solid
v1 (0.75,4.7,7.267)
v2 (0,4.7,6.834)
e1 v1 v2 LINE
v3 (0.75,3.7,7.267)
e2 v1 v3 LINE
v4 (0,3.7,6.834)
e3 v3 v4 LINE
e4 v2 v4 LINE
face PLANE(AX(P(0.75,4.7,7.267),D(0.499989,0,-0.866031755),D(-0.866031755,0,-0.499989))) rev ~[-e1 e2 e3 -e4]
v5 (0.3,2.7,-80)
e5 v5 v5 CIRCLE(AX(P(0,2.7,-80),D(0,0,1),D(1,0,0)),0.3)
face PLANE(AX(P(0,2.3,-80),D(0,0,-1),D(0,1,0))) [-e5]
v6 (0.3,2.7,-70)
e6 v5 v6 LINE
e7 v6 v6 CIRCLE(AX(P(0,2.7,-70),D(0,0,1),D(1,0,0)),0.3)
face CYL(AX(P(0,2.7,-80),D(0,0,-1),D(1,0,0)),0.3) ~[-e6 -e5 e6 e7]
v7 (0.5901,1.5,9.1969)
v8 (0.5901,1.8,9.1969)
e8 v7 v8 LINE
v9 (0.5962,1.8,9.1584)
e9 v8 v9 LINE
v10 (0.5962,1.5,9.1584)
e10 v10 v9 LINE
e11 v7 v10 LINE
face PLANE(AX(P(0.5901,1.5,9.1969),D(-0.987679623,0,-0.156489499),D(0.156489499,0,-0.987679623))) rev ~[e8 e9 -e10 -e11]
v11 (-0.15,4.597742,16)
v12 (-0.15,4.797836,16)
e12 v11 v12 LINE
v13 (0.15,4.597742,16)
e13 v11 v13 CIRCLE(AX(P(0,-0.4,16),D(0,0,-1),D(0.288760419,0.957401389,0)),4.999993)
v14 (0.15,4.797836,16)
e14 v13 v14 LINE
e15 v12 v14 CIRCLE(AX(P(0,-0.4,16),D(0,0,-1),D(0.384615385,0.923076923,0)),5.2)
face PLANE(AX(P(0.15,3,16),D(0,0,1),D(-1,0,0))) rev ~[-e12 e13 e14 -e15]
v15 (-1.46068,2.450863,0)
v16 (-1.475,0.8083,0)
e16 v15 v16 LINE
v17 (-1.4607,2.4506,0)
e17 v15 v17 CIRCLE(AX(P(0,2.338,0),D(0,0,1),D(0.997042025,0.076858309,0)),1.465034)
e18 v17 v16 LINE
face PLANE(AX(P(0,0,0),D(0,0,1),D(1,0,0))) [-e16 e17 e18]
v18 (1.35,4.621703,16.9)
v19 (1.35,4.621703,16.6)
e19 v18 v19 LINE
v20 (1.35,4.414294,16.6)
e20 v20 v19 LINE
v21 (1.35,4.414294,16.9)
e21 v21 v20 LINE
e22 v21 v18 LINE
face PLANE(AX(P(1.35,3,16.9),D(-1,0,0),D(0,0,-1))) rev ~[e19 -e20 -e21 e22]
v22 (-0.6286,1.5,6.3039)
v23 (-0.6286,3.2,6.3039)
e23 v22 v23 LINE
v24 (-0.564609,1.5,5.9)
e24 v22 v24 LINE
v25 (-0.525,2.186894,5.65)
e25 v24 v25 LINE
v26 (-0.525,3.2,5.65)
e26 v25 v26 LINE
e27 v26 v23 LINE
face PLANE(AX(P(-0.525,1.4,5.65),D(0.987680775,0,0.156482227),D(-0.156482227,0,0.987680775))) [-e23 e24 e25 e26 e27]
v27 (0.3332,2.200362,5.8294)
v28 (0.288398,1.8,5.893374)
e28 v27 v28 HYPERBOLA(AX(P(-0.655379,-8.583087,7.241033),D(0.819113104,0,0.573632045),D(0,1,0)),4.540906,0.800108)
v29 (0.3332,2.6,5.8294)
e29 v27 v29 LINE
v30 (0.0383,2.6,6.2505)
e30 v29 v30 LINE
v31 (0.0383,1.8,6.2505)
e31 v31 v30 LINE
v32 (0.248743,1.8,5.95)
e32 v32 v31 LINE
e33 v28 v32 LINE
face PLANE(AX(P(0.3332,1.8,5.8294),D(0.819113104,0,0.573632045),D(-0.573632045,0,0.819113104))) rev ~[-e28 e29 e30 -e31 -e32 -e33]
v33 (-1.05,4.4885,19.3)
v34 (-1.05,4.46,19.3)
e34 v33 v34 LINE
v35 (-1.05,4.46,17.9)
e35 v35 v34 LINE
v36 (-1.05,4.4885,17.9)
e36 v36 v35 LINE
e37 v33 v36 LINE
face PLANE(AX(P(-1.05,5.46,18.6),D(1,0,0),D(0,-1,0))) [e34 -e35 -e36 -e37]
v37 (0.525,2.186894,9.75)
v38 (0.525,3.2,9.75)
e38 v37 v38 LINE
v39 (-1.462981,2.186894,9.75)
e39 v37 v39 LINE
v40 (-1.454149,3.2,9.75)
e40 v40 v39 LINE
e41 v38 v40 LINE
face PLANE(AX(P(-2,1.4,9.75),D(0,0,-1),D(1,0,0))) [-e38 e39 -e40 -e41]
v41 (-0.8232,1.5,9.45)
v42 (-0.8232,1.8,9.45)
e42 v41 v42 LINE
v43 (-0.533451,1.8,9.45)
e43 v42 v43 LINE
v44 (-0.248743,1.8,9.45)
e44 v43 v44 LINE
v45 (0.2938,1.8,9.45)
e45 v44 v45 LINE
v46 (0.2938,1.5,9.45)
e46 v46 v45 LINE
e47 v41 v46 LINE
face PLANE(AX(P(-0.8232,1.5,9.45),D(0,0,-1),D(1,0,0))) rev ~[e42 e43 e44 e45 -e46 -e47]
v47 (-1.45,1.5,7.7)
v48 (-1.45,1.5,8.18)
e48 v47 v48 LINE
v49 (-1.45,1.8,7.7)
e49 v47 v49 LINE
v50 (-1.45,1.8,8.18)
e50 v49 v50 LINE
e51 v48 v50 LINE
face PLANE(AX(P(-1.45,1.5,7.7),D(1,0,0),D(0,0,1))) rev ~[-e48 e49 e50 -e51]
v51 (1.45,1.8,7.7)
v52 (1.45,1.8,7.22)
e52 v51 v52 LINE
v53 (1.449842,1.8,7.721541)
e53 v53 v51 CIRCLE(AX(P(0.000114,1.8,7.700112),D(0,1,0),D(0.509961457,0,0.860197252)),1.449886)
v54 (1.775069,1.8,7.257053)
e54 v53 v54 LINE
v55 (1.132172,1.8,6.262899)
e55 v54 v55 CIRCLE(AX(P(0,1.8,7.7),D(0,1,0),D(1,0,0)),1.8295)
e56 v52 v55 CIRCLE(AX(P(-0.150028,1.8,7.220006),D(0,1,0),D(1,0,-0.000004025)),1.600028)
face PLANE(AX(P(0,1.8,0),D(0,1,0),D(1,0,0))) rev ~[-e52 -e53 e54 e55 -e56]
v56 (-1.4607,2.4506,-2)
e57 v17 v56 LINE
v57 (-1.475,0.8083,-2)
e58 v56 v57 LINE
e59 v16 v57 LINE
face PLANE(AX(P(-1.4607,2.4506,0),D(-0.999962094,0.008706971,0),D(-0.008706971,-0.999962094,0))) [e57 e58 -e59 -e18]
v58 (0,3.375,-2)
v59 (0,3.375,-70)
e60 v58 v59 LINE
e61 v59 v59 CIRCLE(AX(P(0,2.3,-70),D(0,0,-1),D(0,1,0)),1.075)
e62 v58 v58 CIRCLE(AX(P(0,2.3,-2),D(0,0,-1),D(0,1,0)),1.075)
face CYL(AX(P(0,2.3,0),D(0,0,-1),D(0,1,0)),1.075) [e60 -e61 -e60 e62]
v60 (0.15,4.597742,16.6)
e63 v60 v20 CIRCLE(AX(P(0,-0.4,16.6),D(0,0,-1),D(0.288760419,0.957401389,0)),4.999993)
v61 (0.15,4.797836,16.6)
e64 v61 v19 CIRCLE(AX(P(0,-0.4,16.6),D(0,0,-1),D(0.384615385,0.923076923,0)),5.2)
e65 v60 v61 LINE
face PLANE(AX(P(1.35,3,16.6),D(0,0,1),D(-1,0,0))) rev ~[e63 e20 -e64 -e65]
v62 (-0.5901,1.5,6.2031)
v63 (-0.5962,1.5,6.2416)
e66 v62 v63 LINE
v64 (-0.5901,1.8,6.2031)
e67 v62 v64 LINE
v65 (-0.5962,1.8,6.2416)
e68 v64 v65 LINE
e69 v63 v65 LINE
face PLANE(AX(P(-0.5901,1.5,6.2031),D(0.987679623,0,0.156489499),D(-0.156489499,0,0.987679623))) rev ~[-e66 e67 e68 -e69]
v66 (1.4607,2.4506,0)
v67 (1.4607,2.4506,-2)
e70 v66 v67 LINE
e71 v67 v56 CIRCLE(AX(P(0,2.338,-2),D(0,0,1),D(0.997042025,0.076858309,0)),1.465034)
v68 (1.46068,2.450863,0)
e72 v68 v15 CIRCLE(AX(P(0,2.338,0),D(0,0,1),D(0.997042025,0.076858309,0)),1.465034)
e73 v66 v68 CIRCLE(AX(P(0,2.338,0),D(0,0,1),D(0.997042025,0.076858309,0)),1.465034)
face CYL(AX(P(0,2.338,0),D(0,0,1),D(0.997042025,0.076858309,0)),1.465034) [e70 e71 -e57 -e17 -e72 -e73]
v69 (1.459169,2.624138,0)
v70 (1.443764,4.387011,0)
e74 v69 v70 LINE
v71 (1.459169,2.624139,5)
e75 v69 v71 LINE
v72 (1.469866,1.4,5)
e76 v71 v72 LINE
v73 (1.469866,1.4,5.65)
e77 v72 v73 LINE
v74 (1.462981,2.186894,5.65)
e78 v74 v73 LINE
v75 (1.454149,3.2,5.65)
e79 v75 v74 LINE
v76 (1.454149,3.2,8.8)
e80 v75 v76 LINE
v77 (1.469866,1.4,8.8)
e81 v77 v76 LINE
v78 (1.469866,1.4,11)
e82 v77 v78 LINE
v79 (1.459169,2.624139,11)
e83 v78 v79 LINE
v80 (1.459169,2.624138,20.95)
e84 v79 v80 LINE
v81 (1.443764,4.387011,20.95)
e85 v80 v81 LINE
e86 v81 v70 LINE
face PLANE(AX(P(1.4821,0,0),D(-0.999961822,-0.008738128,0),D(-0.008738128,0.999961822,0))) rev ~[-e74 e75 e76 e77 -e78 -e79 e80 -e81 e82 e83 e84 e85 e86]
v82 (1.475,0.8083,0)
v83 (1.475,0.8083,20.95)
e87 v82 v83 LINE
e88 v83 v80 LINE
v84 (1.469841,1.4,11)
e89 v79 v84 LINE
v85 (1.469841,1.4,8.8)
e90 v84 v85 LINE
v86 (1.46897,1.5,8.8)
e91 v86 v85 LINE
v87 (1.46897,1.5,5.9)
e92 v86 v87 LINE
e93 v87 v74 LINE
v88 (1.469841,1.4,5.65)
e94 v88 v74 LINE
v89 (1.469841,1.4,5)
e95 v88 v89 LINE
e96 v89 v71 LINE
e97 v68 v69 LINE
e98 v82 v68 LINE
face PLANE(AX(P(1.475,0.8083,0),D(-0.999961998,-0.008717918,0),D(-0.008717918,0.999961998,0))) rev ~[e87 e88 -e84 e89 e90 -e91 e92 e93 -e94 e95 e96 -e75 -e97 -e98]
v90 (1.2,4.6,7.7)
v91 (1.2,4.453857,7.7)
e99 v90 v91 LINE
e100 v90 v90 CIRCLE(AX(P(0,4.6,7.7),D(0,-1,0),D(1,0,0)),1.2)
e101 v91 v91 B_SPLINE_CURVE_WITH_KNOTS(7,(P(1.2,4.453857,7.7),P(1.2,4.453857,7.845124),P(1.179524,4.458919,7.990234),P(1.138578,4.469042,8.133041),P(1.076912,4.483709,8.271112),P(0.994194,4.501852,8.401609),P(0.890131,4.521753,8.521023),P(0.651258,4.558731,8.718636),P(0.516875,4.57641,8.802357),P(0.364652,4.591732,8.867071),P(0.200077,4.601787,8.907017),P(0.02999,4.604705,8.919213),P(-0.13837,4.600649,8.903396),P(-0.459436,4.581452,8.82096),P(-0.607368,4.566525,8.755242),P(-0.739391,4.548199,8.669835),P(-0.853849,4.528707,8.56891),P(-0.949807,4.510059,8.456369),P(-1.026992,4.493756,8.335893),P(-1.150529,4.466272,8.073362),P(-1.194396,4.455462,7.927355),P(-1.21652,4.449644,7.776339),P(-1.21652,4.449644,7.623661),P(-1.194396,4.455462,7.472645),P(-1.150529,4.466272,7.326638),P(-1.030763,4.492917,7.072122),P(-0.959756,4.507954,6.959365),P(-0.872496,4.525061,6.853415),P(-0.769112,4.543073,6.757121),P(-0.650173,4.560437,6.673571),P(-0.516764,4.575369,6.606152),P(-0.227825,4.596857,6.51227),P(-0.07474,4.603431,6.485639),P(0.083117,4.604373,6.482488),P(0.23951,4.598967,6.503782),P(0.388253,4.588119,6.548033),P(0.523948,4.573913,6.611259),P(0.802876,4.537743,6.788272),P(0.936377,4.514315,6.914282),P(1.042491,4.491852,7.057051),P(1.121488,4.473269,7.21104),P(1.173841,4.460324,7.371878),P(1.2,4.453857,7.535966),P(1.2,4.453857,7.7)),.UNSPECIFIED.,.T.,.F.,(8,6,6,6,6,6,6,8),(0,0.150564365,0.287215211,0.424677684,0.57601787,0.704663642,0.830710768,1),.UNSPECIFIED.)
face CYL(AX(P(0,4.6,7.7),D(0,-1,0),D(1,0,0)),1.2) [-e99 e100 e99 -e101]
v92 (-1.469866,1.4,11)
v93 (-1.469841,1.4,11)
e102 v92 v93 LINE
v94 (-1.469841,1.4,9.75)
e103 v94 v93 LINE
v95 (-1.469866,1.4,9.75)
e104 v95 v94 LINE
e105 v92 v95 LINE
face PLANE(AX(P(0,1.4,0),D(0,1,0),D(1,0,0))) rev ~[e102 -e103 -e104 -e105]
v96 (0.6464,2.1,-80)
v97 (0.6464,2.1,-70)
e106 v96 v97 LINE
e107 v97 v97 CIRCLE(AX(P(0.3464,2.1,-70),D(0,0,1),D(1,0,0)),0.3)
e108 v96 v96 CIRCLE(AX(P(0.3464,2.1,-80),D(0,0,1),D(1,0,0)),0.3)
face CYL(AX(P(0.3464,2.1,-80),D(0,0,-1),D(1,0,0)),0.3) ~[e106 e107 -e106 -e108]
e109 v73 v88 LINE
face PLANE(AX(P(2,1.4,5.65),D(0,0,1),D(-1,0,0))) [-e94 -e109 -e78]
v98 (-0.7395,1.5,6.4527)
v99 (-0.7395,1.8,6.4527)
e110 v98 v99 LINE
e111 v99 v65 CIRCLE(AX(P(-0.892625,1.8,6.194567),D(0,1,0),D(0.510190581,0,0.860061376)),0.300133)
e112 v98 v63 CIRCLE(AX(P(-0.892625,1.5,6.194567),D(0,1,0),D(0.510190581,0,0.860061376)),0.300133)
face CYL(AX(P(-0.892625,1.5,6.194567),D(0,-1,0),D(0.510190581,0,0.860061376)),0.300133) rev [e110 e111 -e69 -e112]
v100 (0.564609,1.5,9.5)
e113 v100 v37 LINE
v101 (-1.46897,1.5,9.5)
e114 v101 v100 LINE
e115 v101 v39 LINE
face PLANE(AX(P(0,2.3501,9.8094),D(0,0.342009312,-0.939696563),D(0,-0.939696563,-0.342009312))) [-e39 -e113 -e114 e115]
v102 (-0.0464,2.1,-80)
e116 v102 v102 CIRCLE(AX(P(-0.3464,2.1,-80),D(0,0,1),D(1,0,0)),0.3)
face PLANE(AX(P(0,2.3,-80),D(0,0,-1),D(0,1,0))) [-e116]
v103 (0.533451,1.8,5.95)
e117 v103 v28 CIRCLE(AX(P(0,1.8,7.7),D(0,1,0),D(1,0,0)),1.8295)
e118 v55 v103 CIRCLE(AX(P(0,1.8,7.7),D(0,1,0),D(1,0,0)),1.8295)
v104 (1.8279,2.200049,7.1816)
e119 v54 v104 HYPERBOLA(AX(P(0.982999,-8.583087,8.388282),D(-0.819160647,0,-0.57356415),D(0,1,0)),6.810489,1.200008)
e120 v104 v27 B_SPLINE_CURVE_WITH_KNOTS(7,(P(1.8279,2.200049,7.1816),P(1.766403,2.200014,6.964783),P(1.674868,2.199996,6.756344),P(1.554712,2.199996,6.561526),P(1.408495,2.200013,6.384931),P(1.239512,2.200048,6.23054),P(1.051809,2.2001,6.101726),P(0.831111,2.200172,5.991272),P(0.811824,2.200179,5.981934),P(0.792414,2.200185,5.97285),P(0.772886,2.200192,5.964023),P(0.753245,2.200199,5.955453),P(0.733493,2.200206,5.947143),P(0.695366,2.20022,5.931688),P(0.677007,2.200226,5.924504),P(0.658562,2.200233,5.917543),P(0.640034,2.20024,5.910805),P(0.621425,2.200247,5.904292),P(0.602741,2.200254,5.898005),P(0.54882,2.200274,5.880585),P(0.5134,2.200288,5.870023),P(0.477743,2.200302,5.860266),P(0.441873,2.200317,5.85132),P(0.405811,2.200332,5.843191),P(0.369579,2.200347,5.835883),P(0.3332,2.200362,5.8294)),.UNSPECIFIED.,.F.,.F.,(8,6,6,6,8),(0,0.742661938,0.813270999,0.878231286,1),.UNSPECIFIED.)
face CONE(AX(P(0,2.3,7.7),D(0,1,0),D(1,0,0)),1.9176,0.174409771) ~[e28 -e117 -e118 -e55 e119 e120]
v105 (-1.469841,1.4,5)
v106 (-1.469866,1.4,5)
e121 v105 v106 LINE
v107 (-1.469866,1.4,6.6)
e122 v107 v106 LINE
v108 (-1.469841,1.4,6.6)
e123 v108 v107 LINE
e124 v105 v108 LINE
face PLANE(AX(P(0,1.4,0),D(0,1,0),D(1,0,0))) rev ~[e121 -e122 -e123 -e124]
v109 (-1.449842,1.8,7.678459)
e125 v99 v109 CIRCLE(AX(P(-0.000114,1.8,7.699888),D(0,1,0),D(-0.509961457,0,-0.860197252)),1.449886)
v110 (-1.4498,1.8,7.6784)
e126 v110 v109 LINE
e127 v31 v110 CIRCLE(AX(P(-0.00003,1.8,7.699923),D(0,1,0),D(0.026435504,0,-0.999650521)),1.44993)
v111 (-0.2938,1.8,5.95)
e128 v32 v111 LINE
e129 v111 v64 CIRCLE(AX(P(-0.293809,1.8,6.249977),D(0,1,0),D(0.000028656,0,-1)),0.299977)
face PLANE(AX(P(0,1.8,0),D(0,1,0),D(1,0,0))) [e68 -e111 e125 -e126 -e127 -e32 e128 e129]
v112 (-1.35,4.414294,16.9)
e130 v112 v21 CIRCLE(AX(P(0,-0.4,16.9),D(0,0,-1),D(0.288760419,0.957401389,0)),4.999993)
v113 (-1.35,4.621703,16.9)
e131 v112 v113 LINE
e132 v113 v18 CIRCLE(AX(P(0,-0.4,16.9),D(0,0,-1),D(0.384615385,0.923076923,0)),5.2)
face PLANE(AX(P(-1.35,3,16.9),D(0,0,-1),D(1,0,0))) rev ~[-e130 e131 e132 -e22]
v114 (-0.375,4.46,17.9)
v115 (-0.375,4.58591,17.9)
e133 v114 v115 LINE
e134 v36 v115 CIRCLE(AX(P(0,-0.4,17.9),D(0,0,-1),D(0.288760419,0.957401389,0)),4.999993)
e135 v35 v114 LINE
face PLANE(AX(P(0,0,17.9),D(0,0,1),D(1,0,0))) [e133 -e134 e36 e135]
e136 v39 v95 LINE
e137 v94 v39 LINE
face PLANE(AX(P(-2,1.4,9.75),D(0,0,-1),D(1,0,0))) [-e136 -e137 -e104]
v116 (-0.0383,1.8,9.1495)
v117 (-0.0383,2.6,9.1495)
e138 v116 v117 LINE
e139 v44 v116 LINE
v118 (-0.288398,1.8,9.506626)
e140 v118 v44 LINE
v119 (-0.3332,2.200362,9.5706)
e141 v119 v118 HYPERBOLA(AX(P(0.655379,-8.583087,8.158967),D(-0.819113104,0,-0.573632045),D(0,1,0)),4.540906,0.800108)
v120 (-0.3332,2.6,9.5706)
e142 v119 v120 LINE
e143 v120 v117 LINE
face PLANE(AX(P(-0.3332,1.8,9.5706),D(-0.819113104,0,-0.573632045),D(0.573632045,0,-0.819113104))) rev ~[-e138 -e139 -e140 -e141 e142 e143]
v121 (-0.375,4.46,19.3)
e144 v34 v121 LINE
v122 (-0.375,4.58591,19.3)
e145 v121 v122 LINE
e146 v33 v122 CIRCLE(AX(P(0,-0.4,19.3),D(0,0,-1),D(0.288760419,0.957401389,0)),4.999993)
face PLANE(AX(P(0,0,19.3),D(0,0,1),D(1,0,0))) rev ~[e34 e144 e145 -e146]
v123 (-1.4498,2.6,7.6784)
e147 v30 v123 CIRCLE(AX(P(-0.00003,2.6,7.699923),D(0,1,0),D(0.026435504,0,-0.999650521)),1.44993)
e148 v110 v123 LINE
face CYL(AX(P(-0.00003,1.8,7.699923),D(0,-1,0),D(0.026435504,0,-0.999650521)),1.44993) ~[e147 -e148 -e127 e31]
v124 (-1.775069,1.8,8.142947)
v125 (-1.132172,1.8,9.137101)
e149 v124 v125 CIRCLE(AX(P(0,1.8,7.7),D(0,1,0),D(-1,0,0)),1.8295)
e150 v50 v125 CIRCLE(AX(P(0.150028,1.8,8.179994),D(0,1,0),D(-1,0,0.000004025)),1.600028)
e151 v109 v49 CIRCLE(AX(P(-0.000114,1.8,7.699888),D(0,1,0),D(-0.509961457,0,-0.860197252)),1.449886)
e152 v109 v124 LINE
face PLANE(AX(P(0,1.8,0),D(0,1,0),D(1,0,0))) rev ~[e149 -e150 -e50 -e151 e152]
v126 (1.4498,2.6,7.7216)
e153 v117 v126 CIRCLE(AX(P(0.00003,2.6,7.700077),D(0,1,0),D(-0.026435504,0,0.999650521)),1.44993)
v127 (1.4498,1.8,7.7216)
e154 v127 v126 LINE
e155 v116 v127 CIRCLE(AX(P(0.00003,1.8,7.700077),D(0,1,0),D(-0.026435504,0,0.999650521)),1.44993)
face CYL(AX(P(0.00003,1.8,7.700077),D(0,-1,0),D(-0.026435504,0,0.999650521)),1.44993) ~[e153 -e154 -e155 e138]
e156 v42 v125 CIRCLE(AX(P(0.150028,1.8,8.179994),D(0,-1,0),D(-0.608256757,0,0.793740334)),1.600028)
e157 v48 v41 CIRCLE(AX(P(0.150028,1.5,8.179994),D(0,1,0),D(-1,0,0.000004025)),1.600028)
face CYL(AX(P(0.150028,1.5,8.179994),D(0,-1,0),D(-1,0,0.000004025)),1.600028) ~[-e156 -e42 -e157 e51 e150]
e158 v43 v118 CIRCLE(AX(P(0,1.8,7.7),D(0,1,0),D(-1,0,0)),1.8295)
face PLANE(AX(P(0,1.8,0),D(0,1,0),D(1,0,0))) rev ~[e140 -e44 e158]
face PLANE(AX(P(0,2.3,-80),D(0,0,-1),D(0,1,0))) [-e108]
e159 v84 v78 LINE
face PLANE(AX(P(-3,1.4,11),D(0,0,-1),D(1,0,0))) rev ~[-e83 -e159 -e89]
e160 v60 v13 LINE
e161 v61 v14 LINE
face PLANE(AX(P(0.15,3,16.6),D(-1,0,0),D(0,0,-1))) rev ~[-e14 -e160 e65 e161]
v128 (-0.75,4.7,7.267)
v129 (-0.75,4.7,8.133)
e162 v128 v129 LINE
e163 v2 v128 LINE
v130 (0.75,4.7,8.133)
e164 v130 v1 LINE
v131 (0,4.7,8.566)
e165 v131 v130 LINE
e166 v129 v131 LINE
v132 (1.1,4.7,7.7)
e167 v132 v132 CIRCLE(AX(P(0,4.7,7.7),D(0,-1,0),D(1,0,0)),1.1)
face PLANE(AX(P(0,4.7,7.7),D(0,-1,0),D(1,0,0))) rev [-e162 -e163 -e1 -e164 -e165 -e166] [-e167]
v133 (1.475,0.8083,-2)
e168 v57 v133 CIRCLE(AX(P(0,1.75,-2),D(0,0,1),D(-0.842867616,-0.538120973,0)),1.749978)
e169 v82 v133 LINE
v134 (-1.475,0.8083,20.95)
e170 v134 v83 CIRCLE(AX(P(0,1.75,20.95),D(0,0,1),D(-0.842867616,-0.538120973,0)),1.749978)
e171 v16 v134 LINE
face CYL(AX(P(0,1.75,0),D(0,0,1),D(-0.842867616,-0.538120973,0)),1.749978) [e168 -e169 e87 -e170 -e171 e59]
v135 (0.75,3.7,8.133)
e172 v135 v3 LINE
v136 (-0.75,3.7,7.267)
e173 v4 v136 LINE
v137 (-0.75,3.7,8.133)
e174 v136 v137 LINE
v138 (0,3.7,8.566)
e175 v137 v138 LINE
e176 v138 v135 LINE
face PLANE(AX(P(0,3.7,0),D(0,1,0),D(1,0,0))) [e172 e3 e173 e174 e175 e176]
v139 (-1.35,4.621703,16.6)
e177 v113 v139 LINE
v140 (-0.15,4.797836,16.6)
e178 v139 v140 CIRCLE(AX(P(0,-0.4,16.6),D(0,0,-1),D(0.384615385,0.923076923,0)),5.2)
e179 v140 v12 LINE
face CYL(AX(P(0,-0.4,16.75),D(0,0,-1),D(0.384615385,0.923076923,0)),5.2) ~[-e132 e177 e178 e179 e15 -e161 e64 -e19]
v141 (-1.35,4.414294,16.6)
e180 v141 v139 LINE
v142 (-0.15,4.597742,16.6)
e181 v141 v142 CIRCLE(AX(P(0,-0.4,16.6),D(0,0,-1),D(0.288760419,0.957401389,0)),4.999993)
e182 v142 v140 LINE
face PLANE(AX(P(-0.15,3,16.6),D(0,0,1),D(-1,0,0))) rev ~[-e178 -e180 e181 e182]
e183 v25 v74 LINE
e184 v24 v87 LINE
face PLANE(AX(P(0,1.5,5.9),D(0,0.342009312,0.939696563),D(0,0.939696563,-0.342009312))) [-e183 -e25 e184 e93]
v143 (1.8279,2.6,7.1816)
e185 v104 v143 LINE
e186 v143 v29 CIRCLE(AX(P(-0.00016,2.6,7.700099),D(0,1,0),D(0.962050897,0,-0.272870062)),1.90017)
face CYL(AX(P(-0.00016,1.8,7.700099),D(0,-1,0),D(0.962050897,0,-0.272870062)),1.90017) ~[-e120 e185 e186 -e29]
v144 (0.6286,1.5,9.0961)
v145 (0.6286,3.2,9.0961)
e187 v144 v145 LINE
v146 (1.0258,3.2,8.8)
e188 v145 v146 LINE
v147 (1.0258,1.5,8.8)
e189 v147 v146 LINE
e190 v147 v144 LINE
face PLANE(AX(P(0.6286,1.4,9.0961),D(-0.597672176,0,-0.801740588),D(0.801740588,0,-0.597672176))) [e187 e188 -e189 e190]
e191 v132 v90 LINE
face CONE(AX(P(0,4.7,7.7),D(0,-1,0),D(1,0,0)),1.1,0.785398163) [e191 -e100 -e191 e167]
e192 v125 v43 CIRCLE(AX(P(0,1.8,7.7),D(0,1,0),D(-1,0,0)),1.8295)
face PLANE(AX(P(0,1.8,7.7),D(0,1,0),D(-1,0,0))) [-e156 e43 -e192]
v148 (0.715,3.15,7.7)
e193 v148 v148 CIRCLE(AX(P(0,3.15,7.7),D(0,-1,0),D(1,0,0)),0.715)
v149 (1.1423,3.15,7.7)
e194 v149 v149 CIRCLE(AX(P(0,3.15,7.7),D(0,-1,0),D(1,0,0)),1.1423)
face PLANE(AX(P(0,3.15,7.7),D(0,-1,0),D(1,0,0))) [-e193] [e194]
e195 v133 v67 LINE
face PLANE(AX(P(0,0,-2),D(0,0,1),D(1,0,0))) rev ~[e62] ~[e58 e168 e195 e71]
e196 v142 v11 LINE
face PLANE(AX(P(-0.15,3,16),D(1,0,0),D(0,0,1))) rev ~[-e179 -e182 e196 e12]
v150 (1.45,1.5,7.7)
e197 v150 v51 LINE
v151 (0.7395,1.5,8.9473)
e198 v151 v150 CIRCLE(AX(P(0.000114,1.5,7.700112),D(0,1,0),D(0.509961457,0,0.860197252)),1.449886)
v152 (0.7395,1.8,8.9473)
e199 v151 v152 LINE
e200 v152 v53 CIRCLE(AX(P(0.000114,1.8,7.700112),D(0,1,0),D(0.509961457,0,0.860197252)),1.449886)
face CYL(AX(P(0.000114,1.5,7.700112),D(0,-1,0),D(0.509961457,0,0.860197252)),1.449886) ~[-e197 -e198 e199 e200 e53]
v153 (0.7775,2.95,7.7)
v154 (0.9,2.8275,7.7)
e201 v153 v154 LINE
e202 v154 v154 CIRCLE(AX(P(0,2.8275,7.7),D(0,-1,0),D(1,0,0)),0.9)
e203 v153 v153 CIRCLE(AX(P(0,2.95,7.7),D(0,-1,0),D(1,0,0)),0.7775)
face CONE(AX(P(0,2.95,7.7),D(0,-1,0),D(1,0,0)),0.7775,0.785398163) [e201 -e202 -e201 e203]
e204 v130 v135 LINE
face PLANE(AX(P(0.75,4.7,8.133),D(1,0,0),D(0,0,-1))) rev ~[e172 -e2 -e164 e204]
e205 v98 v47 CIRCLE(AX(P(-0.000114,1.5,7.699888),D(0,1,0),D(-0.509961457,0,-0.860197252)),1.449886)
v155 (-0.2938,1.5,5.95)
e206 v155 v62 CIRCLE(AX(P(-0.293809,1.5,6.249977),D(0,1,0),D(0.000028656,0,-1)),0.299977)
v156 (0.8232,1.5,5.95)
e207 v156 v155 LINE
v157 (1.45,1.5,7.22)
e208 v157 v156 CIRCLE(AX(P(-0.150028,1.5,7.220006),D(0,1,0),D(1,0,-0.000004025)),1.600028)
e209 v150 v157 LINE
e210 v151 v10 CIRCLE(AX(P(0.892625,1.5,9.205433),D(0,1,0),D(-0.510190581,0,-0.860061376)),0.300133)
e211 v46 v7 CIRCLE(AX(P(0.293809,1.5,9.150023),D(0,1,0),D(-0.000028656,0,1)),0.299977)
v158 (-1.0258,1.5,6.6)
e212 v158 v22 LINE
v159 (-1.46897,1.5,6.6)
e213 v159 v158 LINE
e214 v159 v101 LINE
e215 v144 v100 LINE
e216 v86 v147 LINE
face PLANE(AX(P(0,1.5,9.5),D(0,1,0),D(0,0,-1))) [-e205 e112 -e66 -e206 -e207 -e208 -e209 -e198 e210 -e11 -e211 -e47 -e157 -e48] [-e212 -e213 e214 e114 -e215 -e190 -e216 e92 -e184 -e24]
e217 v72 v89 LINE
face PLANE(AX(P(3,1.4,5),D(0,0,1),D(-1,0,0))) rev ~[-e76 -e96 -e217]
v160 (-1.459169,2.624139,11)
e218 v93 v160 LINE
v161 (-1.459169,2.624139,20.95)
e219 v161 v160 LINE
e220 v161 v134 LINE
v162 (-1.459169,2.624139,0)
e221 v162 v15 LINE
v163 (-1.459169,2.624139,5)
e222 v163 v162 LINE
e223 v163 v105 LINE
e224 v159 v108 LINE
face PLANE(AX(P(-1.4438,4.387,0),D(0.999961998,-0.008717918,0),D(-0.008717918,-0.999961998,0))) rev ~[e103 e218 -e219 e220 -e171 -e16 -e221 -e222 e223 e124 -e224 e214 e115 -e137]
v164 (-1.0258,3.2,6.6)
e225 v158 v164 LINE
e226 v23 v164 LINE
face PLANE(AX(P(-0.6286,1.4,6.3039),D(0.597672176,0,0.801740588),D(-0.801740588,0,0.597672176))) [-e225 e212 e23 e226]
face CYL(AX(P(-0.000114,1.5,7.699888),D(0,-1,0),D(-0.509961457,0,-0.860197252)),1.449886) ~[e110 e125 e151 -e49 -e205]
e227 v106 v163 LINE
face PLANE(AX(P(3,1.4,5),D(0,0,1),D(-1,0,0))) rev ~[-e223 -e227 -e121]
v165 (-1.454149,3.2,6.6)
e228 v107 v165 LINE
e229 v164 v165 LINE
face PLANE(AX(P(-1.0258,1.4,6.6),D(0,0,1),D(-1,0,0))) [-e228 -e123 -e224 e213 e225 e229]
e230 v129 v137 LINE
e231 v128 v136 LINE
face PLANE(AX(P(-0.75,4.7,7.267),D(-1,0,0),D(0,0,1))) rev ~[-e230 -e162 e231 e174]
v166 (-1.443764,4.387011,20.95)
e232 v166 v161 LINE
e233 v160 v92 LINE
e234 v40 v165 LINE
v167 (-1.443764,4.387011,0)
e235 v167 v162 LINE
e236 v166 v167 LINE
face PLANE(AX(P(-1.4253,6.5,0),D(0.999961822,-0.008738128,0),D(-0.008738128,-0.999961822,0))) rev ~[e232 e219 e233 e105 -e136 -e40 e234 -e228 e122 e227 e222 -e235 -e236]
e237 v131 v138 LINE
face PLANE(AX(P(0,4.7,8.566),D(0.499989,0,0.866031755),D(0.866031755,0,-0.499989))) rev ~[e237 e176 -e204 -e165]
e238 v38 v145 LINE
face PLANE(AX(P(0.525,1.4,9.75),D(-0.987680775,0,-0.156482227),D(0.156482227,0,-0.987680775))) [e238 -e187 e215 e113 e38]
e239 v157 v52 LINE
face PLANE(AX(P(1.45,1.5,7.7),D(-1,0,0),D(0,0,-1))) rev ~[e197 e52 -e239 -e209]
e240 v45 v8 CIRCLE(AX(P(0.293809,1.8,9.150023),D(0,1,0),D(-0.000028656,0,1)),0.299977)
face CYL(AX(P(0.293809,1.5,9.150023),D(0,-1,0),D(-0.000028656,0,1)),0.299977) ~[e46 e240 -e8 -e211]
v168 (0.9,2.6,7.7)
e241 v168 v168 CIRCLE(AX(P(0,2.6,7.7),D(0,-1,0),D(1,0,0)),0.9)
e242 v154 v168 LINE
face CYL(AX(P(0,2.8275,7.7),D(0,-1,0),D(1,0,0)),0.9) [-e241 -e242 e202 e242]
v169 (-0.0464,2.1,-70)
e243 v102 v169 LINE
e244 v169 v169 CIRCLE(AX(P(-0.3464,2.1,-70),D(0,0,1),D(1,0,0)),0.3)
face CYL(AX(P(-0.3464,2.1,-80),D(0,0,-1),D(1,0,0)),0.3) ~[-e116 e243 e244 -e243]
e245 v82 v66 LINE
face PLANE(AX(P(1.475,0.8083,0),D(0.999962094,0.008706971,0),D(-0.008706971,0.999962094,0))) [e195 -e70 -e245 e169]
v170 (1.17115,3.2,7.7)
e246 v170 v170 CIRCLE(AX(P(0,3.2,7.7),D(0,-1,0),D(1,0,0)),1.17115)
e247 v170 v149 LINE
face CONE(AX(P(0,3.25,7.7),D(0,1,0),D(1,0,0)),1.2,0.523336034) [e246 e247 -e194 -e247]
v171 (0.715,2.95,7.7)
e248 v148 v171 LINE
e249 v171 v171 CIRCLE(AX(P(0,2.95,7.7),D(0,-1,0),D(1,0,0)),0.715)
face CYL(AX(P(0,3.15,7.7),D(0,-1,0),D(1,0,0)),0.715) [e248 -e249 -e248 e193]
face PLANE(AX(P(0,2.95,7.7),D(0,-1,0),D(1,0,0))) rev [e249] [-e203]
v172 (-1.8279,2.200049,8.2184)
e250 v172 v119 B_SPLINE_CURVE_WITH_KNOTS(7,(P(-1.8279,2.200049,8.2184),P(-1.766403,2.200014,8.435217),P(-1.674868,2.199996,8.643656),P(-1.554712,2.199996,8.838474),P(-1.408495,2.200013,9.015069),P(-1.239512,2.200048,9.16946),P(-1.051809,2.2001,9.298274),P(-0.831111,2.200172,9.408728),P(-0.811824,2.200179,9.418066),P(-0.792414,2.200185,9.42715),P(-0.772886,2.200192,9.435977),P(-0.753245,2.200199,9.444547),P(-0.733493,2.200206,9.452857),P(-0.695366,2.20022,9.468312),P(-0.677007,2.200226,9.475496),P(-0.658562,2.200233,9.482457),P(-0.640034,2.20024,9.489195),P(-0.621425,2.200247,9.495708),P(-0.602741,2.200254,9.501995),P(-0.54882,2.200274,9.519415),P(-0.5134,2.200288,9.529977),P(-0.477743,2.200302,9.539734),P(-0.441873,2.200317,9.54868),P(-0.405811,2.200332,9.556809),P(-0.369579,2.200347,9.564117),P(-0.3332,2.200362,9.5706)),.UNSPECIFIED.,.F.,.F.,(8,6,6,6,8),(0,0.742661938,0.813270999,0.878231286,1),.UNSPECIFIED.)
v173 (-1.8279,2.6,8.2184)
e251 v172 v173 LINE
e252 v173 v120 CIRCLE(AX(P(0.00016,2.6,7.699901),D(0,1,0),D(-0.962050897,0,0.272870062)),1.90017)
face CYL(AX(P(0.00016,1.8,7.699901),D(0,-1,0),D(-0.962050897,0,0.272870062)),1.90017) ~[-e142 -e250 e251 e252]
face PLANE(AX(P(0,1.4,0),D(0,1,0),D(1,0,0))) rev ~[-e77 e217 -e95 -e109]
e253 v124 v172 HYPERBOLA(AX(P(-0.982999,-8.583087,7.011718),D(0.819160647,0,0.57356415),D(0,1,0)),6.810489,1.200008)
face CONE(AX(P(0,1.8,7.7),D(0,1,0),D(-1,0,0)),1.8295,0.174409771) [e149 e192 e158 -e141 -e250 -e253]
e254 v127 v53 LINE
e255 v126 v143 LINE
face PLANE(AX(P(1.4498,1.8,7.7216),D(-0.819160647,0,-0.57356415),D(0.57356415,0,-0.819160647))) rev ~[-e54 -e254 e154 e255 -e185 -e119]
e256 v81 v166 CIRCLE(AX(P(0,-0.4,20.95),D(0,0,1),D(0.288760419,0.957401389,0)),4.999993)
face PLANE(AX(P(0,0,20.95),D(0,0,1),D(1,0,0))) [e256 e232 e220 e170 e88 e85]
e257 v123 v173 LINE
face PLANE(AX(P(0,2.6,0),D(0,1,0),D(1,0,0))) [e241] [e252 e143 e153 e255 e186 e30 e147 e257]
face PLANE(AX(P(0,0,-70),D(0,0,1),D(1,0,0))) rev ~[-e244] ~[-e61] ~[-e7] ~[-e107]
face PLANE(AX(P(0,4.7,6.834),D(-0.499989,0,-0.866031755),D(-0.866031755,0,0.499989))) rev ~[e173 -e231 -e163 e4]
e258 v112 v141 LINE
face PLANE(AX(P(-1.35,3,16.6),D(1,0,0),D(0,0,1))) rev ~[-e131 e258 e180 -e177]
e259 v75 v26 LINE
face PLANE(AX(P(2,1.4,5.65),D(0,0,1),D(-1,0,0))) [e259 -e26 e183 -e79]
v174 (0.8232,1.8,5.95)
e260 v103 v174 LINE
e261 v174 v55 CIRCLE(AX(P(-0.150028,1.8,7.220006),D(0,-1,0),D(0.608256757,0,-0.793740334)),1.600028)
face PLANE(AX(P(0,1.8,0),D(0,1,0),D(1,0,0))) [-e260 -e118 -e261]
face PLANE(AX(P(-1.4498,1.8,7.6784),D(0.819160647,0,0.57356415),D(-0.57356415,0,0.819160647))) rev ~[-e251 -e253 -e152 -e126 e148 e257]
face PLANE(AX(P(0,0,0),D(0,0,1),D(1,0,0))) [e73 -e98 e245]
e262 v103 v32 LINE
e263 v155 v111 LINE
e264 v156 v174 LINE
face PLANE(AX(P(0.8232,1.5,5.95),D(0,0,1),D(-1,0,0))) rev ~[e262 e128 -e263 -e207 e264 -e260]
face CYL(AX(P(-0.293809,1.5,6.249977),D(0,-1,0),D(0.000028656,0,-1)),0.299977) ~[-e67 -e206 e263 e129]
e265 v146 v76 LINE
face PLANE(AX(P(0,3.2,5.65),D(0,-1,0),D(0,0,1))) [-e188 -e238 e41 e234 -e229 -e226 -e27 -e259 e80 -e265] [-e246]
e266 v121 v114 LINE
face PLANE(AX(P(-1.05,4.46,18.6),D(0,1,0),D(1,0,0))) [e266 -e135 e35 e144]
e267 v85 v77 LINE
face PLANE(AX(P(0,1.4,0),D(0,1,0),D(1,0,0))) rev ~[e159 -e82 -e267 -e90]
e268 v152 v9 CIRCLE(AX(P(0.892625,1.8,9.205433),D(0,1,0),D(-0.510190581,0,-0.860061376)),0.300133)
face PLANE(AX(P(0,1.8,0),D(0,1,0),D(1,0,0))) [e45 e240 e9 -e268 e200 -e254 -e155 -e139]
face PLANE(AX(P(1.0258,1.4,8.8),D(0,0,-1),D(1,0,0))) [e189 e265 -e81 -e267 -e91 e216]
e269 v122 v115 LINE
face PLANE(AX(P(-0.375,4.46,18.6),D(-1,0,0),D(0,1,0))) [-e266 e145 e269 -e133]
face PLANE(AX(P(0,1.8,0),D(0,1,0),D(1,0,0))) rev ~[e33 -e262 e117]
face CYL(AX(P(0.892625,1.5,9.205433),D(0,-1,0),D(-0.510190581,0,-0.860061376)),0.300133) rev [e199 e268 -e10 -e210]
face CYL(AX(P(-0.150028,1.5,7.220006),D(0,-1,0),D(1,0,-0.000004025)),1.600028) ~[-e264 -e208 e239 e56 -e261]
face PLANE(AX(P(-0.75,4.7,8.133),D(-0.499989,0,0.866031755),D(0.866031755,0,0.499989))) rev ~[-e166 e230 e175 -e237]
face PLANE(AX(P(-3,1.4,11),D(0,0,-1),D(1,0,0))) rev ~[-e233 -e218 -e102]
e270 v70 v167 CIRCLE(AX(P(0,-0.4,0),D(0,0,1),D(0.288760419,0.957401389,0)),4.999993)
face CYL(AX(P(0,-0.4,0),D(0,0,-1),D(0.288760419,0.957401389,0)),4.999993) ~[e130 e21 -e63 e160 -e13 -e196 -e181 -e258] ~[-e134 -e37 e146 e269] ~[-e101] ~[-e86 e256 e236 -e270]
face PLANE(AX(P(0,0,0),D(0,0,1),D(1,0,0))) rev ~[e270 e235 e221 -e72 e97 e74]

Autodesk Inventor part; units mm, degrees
sketch "Sketch_1" plane through (0, 0, 0) normal (0, 0, 1) x (1, 0, 0)
  arc A0 (-1.475, 0.8083) -> (1.475, 0.8083) centre (0, 1.75) ccw
  line L0 (1.475, 0.8083) -> (1.4438, 4.387)
  arc A1 (1.4438, 4.387) -> (-1.4438, 4.387) centre (0, -0.4) ccw
  line L1 (-1.4438, 4.387) -> (-1.475, 0.8083)
extrude "Extrusion1" add sketch "Sketch_1" along normal blind 20.95
sketch "Sketch_2" plane through (0, 0, 0) normal (1, 0, 0) x (0, 1, 0)
  line L0 (2.3501, 9.8094) -> (1.5, 9.5)
  line L1 (1.5, 9.5) -> (1.5, 5.9)
  line L2 (1.5, 5.9) -> (2.3501, 5.5906)
  line L3 (2.3501, 5.5906) -> (3.2, 5.65)
  line L4 (3.2, 5.65) -> (3.2, 9.75)
  line L5 (3.2, 9.75) -> (2.3501, 9.8094)
extrude "Extrusion2" cut sketch "Sketch_2" along normal mid plane 6
sketch "Sketch_3" plane through (0, 1.4, 0) normal (0, 1, 0) x (1, 0, 0)
  line L0 (-3, -11) -> (3, -11)
  line L1 (3, -11) -> (3, -5)
  line L2 (3, -5) -> (-3, -5)
  line L3 (-3, -5) -> (-3, -11)
  line L4 (-2, -6.6) -> (-2, -9.75)
  line L5 (-2, -9.75) -> (0.525, -9.75)
  line L6 (0.525, -9.75) -> (0.6286, -9.0961)
  line L7 (0.6286, -9.0961) -> (1.0258, -8.8)
  line L8 (1.0258, -8.8) -> (2, -8.8)
  line L9 (2, -8.8) -> (2, -5.65)
  line L10 (2, -5.65) -> (-0.525, -5.65)
  line L11 (-0.525, -5.65) -> (-0.6286, -6.3039)
  line L12 (-0.6286, -6.3039) -> (-1.0258, -6.6)
  line L13 (-1.0258, -6.6) -> (-2, -6.6)
extrude "Extrusion3" add sketch "Sketch_3" along normal blind 2.8
sketch "Sketch_4" plane through (0, 0, 0) normal (0, 0, 1) x (1, 0, 0)
  line L0 (-3, -1) -> (3, -1)
  line L1 (3, -1) -> (3, 7)
  line L2 (3, 7) -> (-3, 7)
  line L3 (-3, 7) -> (-3, -1)
  line L4 (-1.4821, 0) -> (1.4821, 0)
  line L5 (1.4821, 0) -> (1.4253, 6.5)
  line L6 (1.4253, 6.5) -> (-1.4253, 6.5)
  line L7 (-1.4253, 6.5) -> (-1.4821, 0)
extrude "Extrusion4" cut sketch "Sketch_4" along normal blind 20.95
sketch "Sketch_5" plane through (0, 1.5, 0) normal (0, 1, 0) x (1, 0, 0)
  line L0 (-1.45, -7.7) -> (-1.45, -8.18)
  arc A0 (-1.45, -8.18) -> (-0.8232, -9.45) centre (0.15, -8.18) ccw
  line L1 (-0.8232, -9.45) -> (0.2938, -9.45)
  arc A1 (0.2938, -9.45) -> (0.5901, -9.1969) centre (0.2938, -9.15) ccw
  line L2 (0.5901, -9.1969) -> (0.5962, -9.1584)
  arc A2 (0.7395, -8.9473) -> (0.5962, -9.1584) centre (0.8925, -9.2053) ccw
  arc A3 (0.7395, -8.9473) -> (1.45, -7.7) centre (0, -7.7) ccw
  line L3 (1.45, -7.7) -> (1.45, -7.22)
  arc A4 (1.45, -7.22) -> (0.8232, -5.95) centre (-0.15, -7.22) ccw
  line L4 (0.8232, -5.95) -> (-0.2938, -5.95)
  arc A5 (-0.2938, -5.95) -> (-0.5901, -6.2031) centre (-0.2938, -6.25) ccw
  line L5 (-0.5901, -6.2031) -> (-0.5962, -6.2416)
  arc A6 (-0.7395, -6.4527) -> (-0.5962, -6.2416) centre (-0.8925, -6.1947) ccw
  arc A7 (-0.7395, -6.4527) -> (-1.45, -7.7) centre (0, -7.7) ccw
extrude "Extrusion5" add sketch "Sketch_5" along normal blind 0.3
sketch "Sketch_6" plane through (0, 1.8, 0) normal (0, 1, 0) x (1, 0, 0)
  arc A0 (-1.8279, -8.2184) -> (-0.3332, -9.5706) centre (0, -7.7) ccw
  line L0 (-0.3332, -9.5706) -> (-0.0383, -9.1495)
  arc A1 (-0.0383, -9.1495) -> (1.4498, -7.7216) centre (0, -7.7) ccw
  line L1 (1.4498, -7.7216) -> (1.8279, -7.1816)
  arc A2 (1.8279, -7.1816) -> (0.3332, -5.8294) centre (0, -7.7) ccw
  line L2 (0.3332, -5.8294) -> (0.0383, -6.2505)
  arc A3 (0.0383, -6.2505) -> (-1.4498, -7.6784) centre (0, -7.7) ccw
  line L3 (-1.4498, -7.6784) -> (-1.8279, -8.2184)
extrude "Extrusion6" add sketch "Sketch_6" along normal blind 0.8
sketch "Sketch_7" plane through (0, 0, 7.7) normal (0, 0, 1) x (1, 0, 0)
  line L0 (0, 1.8) -> (0, 2.6)
  line L1 (1.8295, 1.8) -> (1.9176, 1.8)
  line L2 (1.9176, 1.8) -> (1.9176, 2.3)
  line L3 (1.9176, 2.3) -> (1.8295, 1.8)
revolve "Revolution1" cut sketch "Sketch_7" angle 83 about axis through (0, 1.8, 7.7) along (0, 1, 0)
sketch "Sketch_8" plane through (0, 0, 7.7) normal (0, 0, 1) x (1, 0, 0)
  line L0 (0, 2.6) -> (0, 1.8)
  line L1 (-1.9176, 2.3) -> (-1.9176, 1.8)
  line L2 (-1.9176, 1.8) -> (-1.8295, 1.8)
  line L3 (-1.8295, 1.8) -> (-1.9176, 2.3)
revolve "Revolution2" cut sketch "Sketch_8" angle 83 about axis through (0, 2.6, 7.7) along (0, 1, 0)
sketch "Sketch_9" plane through (0, 0, 7.7) normal (0, 0, 1) x (1, 0, 0)
  line L0 (0, 1.8) -> (0, 4.7)
  line L1 (0, 4.7) -> (1.1, 4.7)
  line L2 (1.1, 4.7) -> (1.2, 4.6)
  line L3 (1.2, 4.6) -> (1.2, 3.25)
  line L4 (1.2, 3.25) -> (1.1423, 3.15)
  line L5 (1.1423, 3.15) -> (0.715, 3.15)
  line L6 (0.715, 3.15) -> (0.715, 2.95)
  line L7 (0.715, 2.95) -> (0.7775, 2.95)
  line L8 (0.7775, 2.95) -> (0.9, 2.8275)
  line L9 (0.9, 2.8275) -> (0.9, 1.9225)
  line L10 (0.9, 1.9225) -> (0.7775, 1.8)
  line L11 (0.7775, 1.8) -> (0, 1.8)
  line L12 (0, 1.8) -> (0, 4.7)
revolve "Revolution3" add sketch "Sketch_9" angle 360 about axis through (0, 1.8, 7.7) along (0, -1, 0)
thread "Thread1" size "M1.8x0.2" class "6g" standard "ISO Metric profile" length 0.905
sketch "Sketch_10" plane through (0, 4.7, 0) normal (0, 1, 0) x (1, 0, 0)
  line L0 (-0.75, -8.133) -> (0, -8.566)
  line L1 (0, -8.566) -> (0.75, -8.133)
  line L2 (0.75, -8.133) -> (0.75, -7.267)
  line L3 (0.75, -7.267) -> (0, -6.834)
  line L4 (0, -6.834) -> (-0.75, -7.267)
  line L5 (-0.75, -7.267) -> (-0.75, -8.133)
extrude "Extrusion7" cut sketch "Sketch_10" against normal blind 1
sketch "Sketch_11" plane through (0, 3, 0) normal (0, 1, 0) x (1, 0, 0)
  line L0 (-1.35, -16.9) -> (1.35, -16.9)
  line L1 (1.35, -16.9) -> (1.35, -16.6)
  line L2 (1.35, -16.6) -> (0.15, -16.6)
  line L3 (0.15, -16.6) -> (0.15, -16)
  line L4 (0.15, -16) -> (-0.15, -16)
  line L5 (-0.15, -16) -> (-0.15, -16.6)
  line L6 (-0.15, -16.6) -> (-1.35, -16.6)
  line L7 (-1.35, -16.6) -> (-1.35, -16.9)
extrude "Extrusion8" add sketch "Sketch_11" along normal blind 3
sketch "Sketch_12" plane through (0, 0, 16.75) normal (0, 0, 1) x (1, 0, 0)
  line L0 (-2, 7) -> (-2, 4.4)
  arc A0 (2, 4.4) -> (-2, 4.4) centre (0, -0.4) ccw
  line L1 (2, 4.4) -> (2, 7)
  line L2 (2, 7) -> (-2, 7)
extrude "Extrusion9" cut sketch "Sketch_12" along normal mid plane 6
sketch "Sketch_13" plane through (0, 0, 0) normal (0, 0, 1) x (1, 0, 0)
  arc A0 (-1.475, 0.8083) -> (1.475, 0.8083) centre (0, 1.75) ccw
  line L0 (1.475, 0.8083) -> (1.4607, 2.4506)
  arc A1 (1.4607, 2.4506) -> (-1.4607, 2.4506) centre (0, 2.338) ccw
  line L1 (-1.4607, 2.4506) -> (-1.475, 0.8083)
extrude "Extrusion10" add sketch "Sketch_13" against normal blind 2
sketch "Sketch_15" plane through (0, 0, 18.6) normal (0, 0, 1) x (1, 0, 0)
  line L0 (-1.05, 5.46) -> (-1.05, 4.46)
  line L1 (-1.05, 4.46) -> (-0.375, 4.46)
  line L2 (-0.375, 4.46) -> (-0.375, 5.46)
  line L3 (-0.375, 5.46) -> (-1.05, 5.46)
extrude "Extrusion11" cut sketch "Sketch_15" along normal mid plane 1.4
sketch "Sketch_16" plane through (0, 0, 0) normal (1, 0, 0) x (0, 1, 0)
  line L0 (2.3, -80) -> (2.3, 0)
  line L1 (2.3, 0) -> (3.375, 0)
  line L2 (3.375, 0) -> (3.375, -80)
  line L3 (3.375, -80) -> (2.3, -80)
  line L4 (2.3, -80) -> (2.3, 0)
revolve "Revolution4" add sketch "Sketch_16" angle 360 about axis through (0, 2.3, -80) along (0, 0, -1)
sketch "Sketch_19" plane through (0, 0, -80) normal (0, 0, 1) x (1, 0, 0)
  line L0 (-2, 1) -> (2, 1)
  line L1 (2, 1) -> (2, 5)
  line L2 (2, 5) -> (-2, 5)
  line L3 (-2, 5) -> (-2, 1)
  circle A0 centre (0.3464, 2.1) radius 0.3
  circle A1 centre (0, 2.7) radius 0.3
  circle A2 centre (-0.3464, 2.1) radius 0.3
extrude "Extrusion12" cut sketch "Sketch_19" along normal blind 10
ref_plane "ANBAU_XY" through (0, 0, 0) normal (0, 0, -1) x (1, 0, 0)
ref_plane "ANBAU_YZ" through (0, 0, 0) normal (1, 0, 0) x (0, -1, 0)
ref_plane "ANBAU_ZX" through (0, 0, 0) normal (0, -1, 0) x (0, 0, -1)
ref_plane "ASCF1_XY" through (0, 2.3, -10) normal (0, 0, -1) x (1, 0, 0)
ref_plane "ASCF1_YZ" through (0, 2.3, -10) normal (1, 0, 0) x (0, -1, 0)
ref_plane "ASCF1_ZX" through (0, 2.3, -10) normal (0, -1, 0) x (0, 0, -1)
ref_plane "ASCF2_XY" through (0, 2.3, -60) normal (0, 0, 1) x (1, 0, 0)
ref_plane "ASCF2_YZ" through (0, 2.3, -60) normal (1, 0, 0) x (0, 1, 0)
ref_plane "ASCF2_ZX" through (0, 2.3, -60) normal (0, 1, 0) x (0, 0, 1)
ref_plane "CLIP_XY" through (0, 2.3, -32.5) normal (0, 0, 1) x (1, 0, 0)
ref_plane "CLIP_YZ" through (0, 2.3, -32.5) normal (1, 0, 0) x (0, 1, 0)
ref_plane "CLIP_ZX" through (0, 2.3, -32.5) normal (0, 1, 0) x (0, 0, 1)
ref_plane "FDT_NUT_XY" through (0, 0, 20.95) normal (0, -1, 0) x (1, 0, 0)
ref_plane "FDT_NUT_YZ" through (0, 0, 20.95) normal (1, 0, 0) x (0, 0, 1)
ref_plane "FDT_NUT_ZX" through (0, 0, 20.95) normal (0, 0, 1) x (0, -1, 0)
properties part number "551373 SMT-10M-PS-24V-E-2.5-L-OE"
